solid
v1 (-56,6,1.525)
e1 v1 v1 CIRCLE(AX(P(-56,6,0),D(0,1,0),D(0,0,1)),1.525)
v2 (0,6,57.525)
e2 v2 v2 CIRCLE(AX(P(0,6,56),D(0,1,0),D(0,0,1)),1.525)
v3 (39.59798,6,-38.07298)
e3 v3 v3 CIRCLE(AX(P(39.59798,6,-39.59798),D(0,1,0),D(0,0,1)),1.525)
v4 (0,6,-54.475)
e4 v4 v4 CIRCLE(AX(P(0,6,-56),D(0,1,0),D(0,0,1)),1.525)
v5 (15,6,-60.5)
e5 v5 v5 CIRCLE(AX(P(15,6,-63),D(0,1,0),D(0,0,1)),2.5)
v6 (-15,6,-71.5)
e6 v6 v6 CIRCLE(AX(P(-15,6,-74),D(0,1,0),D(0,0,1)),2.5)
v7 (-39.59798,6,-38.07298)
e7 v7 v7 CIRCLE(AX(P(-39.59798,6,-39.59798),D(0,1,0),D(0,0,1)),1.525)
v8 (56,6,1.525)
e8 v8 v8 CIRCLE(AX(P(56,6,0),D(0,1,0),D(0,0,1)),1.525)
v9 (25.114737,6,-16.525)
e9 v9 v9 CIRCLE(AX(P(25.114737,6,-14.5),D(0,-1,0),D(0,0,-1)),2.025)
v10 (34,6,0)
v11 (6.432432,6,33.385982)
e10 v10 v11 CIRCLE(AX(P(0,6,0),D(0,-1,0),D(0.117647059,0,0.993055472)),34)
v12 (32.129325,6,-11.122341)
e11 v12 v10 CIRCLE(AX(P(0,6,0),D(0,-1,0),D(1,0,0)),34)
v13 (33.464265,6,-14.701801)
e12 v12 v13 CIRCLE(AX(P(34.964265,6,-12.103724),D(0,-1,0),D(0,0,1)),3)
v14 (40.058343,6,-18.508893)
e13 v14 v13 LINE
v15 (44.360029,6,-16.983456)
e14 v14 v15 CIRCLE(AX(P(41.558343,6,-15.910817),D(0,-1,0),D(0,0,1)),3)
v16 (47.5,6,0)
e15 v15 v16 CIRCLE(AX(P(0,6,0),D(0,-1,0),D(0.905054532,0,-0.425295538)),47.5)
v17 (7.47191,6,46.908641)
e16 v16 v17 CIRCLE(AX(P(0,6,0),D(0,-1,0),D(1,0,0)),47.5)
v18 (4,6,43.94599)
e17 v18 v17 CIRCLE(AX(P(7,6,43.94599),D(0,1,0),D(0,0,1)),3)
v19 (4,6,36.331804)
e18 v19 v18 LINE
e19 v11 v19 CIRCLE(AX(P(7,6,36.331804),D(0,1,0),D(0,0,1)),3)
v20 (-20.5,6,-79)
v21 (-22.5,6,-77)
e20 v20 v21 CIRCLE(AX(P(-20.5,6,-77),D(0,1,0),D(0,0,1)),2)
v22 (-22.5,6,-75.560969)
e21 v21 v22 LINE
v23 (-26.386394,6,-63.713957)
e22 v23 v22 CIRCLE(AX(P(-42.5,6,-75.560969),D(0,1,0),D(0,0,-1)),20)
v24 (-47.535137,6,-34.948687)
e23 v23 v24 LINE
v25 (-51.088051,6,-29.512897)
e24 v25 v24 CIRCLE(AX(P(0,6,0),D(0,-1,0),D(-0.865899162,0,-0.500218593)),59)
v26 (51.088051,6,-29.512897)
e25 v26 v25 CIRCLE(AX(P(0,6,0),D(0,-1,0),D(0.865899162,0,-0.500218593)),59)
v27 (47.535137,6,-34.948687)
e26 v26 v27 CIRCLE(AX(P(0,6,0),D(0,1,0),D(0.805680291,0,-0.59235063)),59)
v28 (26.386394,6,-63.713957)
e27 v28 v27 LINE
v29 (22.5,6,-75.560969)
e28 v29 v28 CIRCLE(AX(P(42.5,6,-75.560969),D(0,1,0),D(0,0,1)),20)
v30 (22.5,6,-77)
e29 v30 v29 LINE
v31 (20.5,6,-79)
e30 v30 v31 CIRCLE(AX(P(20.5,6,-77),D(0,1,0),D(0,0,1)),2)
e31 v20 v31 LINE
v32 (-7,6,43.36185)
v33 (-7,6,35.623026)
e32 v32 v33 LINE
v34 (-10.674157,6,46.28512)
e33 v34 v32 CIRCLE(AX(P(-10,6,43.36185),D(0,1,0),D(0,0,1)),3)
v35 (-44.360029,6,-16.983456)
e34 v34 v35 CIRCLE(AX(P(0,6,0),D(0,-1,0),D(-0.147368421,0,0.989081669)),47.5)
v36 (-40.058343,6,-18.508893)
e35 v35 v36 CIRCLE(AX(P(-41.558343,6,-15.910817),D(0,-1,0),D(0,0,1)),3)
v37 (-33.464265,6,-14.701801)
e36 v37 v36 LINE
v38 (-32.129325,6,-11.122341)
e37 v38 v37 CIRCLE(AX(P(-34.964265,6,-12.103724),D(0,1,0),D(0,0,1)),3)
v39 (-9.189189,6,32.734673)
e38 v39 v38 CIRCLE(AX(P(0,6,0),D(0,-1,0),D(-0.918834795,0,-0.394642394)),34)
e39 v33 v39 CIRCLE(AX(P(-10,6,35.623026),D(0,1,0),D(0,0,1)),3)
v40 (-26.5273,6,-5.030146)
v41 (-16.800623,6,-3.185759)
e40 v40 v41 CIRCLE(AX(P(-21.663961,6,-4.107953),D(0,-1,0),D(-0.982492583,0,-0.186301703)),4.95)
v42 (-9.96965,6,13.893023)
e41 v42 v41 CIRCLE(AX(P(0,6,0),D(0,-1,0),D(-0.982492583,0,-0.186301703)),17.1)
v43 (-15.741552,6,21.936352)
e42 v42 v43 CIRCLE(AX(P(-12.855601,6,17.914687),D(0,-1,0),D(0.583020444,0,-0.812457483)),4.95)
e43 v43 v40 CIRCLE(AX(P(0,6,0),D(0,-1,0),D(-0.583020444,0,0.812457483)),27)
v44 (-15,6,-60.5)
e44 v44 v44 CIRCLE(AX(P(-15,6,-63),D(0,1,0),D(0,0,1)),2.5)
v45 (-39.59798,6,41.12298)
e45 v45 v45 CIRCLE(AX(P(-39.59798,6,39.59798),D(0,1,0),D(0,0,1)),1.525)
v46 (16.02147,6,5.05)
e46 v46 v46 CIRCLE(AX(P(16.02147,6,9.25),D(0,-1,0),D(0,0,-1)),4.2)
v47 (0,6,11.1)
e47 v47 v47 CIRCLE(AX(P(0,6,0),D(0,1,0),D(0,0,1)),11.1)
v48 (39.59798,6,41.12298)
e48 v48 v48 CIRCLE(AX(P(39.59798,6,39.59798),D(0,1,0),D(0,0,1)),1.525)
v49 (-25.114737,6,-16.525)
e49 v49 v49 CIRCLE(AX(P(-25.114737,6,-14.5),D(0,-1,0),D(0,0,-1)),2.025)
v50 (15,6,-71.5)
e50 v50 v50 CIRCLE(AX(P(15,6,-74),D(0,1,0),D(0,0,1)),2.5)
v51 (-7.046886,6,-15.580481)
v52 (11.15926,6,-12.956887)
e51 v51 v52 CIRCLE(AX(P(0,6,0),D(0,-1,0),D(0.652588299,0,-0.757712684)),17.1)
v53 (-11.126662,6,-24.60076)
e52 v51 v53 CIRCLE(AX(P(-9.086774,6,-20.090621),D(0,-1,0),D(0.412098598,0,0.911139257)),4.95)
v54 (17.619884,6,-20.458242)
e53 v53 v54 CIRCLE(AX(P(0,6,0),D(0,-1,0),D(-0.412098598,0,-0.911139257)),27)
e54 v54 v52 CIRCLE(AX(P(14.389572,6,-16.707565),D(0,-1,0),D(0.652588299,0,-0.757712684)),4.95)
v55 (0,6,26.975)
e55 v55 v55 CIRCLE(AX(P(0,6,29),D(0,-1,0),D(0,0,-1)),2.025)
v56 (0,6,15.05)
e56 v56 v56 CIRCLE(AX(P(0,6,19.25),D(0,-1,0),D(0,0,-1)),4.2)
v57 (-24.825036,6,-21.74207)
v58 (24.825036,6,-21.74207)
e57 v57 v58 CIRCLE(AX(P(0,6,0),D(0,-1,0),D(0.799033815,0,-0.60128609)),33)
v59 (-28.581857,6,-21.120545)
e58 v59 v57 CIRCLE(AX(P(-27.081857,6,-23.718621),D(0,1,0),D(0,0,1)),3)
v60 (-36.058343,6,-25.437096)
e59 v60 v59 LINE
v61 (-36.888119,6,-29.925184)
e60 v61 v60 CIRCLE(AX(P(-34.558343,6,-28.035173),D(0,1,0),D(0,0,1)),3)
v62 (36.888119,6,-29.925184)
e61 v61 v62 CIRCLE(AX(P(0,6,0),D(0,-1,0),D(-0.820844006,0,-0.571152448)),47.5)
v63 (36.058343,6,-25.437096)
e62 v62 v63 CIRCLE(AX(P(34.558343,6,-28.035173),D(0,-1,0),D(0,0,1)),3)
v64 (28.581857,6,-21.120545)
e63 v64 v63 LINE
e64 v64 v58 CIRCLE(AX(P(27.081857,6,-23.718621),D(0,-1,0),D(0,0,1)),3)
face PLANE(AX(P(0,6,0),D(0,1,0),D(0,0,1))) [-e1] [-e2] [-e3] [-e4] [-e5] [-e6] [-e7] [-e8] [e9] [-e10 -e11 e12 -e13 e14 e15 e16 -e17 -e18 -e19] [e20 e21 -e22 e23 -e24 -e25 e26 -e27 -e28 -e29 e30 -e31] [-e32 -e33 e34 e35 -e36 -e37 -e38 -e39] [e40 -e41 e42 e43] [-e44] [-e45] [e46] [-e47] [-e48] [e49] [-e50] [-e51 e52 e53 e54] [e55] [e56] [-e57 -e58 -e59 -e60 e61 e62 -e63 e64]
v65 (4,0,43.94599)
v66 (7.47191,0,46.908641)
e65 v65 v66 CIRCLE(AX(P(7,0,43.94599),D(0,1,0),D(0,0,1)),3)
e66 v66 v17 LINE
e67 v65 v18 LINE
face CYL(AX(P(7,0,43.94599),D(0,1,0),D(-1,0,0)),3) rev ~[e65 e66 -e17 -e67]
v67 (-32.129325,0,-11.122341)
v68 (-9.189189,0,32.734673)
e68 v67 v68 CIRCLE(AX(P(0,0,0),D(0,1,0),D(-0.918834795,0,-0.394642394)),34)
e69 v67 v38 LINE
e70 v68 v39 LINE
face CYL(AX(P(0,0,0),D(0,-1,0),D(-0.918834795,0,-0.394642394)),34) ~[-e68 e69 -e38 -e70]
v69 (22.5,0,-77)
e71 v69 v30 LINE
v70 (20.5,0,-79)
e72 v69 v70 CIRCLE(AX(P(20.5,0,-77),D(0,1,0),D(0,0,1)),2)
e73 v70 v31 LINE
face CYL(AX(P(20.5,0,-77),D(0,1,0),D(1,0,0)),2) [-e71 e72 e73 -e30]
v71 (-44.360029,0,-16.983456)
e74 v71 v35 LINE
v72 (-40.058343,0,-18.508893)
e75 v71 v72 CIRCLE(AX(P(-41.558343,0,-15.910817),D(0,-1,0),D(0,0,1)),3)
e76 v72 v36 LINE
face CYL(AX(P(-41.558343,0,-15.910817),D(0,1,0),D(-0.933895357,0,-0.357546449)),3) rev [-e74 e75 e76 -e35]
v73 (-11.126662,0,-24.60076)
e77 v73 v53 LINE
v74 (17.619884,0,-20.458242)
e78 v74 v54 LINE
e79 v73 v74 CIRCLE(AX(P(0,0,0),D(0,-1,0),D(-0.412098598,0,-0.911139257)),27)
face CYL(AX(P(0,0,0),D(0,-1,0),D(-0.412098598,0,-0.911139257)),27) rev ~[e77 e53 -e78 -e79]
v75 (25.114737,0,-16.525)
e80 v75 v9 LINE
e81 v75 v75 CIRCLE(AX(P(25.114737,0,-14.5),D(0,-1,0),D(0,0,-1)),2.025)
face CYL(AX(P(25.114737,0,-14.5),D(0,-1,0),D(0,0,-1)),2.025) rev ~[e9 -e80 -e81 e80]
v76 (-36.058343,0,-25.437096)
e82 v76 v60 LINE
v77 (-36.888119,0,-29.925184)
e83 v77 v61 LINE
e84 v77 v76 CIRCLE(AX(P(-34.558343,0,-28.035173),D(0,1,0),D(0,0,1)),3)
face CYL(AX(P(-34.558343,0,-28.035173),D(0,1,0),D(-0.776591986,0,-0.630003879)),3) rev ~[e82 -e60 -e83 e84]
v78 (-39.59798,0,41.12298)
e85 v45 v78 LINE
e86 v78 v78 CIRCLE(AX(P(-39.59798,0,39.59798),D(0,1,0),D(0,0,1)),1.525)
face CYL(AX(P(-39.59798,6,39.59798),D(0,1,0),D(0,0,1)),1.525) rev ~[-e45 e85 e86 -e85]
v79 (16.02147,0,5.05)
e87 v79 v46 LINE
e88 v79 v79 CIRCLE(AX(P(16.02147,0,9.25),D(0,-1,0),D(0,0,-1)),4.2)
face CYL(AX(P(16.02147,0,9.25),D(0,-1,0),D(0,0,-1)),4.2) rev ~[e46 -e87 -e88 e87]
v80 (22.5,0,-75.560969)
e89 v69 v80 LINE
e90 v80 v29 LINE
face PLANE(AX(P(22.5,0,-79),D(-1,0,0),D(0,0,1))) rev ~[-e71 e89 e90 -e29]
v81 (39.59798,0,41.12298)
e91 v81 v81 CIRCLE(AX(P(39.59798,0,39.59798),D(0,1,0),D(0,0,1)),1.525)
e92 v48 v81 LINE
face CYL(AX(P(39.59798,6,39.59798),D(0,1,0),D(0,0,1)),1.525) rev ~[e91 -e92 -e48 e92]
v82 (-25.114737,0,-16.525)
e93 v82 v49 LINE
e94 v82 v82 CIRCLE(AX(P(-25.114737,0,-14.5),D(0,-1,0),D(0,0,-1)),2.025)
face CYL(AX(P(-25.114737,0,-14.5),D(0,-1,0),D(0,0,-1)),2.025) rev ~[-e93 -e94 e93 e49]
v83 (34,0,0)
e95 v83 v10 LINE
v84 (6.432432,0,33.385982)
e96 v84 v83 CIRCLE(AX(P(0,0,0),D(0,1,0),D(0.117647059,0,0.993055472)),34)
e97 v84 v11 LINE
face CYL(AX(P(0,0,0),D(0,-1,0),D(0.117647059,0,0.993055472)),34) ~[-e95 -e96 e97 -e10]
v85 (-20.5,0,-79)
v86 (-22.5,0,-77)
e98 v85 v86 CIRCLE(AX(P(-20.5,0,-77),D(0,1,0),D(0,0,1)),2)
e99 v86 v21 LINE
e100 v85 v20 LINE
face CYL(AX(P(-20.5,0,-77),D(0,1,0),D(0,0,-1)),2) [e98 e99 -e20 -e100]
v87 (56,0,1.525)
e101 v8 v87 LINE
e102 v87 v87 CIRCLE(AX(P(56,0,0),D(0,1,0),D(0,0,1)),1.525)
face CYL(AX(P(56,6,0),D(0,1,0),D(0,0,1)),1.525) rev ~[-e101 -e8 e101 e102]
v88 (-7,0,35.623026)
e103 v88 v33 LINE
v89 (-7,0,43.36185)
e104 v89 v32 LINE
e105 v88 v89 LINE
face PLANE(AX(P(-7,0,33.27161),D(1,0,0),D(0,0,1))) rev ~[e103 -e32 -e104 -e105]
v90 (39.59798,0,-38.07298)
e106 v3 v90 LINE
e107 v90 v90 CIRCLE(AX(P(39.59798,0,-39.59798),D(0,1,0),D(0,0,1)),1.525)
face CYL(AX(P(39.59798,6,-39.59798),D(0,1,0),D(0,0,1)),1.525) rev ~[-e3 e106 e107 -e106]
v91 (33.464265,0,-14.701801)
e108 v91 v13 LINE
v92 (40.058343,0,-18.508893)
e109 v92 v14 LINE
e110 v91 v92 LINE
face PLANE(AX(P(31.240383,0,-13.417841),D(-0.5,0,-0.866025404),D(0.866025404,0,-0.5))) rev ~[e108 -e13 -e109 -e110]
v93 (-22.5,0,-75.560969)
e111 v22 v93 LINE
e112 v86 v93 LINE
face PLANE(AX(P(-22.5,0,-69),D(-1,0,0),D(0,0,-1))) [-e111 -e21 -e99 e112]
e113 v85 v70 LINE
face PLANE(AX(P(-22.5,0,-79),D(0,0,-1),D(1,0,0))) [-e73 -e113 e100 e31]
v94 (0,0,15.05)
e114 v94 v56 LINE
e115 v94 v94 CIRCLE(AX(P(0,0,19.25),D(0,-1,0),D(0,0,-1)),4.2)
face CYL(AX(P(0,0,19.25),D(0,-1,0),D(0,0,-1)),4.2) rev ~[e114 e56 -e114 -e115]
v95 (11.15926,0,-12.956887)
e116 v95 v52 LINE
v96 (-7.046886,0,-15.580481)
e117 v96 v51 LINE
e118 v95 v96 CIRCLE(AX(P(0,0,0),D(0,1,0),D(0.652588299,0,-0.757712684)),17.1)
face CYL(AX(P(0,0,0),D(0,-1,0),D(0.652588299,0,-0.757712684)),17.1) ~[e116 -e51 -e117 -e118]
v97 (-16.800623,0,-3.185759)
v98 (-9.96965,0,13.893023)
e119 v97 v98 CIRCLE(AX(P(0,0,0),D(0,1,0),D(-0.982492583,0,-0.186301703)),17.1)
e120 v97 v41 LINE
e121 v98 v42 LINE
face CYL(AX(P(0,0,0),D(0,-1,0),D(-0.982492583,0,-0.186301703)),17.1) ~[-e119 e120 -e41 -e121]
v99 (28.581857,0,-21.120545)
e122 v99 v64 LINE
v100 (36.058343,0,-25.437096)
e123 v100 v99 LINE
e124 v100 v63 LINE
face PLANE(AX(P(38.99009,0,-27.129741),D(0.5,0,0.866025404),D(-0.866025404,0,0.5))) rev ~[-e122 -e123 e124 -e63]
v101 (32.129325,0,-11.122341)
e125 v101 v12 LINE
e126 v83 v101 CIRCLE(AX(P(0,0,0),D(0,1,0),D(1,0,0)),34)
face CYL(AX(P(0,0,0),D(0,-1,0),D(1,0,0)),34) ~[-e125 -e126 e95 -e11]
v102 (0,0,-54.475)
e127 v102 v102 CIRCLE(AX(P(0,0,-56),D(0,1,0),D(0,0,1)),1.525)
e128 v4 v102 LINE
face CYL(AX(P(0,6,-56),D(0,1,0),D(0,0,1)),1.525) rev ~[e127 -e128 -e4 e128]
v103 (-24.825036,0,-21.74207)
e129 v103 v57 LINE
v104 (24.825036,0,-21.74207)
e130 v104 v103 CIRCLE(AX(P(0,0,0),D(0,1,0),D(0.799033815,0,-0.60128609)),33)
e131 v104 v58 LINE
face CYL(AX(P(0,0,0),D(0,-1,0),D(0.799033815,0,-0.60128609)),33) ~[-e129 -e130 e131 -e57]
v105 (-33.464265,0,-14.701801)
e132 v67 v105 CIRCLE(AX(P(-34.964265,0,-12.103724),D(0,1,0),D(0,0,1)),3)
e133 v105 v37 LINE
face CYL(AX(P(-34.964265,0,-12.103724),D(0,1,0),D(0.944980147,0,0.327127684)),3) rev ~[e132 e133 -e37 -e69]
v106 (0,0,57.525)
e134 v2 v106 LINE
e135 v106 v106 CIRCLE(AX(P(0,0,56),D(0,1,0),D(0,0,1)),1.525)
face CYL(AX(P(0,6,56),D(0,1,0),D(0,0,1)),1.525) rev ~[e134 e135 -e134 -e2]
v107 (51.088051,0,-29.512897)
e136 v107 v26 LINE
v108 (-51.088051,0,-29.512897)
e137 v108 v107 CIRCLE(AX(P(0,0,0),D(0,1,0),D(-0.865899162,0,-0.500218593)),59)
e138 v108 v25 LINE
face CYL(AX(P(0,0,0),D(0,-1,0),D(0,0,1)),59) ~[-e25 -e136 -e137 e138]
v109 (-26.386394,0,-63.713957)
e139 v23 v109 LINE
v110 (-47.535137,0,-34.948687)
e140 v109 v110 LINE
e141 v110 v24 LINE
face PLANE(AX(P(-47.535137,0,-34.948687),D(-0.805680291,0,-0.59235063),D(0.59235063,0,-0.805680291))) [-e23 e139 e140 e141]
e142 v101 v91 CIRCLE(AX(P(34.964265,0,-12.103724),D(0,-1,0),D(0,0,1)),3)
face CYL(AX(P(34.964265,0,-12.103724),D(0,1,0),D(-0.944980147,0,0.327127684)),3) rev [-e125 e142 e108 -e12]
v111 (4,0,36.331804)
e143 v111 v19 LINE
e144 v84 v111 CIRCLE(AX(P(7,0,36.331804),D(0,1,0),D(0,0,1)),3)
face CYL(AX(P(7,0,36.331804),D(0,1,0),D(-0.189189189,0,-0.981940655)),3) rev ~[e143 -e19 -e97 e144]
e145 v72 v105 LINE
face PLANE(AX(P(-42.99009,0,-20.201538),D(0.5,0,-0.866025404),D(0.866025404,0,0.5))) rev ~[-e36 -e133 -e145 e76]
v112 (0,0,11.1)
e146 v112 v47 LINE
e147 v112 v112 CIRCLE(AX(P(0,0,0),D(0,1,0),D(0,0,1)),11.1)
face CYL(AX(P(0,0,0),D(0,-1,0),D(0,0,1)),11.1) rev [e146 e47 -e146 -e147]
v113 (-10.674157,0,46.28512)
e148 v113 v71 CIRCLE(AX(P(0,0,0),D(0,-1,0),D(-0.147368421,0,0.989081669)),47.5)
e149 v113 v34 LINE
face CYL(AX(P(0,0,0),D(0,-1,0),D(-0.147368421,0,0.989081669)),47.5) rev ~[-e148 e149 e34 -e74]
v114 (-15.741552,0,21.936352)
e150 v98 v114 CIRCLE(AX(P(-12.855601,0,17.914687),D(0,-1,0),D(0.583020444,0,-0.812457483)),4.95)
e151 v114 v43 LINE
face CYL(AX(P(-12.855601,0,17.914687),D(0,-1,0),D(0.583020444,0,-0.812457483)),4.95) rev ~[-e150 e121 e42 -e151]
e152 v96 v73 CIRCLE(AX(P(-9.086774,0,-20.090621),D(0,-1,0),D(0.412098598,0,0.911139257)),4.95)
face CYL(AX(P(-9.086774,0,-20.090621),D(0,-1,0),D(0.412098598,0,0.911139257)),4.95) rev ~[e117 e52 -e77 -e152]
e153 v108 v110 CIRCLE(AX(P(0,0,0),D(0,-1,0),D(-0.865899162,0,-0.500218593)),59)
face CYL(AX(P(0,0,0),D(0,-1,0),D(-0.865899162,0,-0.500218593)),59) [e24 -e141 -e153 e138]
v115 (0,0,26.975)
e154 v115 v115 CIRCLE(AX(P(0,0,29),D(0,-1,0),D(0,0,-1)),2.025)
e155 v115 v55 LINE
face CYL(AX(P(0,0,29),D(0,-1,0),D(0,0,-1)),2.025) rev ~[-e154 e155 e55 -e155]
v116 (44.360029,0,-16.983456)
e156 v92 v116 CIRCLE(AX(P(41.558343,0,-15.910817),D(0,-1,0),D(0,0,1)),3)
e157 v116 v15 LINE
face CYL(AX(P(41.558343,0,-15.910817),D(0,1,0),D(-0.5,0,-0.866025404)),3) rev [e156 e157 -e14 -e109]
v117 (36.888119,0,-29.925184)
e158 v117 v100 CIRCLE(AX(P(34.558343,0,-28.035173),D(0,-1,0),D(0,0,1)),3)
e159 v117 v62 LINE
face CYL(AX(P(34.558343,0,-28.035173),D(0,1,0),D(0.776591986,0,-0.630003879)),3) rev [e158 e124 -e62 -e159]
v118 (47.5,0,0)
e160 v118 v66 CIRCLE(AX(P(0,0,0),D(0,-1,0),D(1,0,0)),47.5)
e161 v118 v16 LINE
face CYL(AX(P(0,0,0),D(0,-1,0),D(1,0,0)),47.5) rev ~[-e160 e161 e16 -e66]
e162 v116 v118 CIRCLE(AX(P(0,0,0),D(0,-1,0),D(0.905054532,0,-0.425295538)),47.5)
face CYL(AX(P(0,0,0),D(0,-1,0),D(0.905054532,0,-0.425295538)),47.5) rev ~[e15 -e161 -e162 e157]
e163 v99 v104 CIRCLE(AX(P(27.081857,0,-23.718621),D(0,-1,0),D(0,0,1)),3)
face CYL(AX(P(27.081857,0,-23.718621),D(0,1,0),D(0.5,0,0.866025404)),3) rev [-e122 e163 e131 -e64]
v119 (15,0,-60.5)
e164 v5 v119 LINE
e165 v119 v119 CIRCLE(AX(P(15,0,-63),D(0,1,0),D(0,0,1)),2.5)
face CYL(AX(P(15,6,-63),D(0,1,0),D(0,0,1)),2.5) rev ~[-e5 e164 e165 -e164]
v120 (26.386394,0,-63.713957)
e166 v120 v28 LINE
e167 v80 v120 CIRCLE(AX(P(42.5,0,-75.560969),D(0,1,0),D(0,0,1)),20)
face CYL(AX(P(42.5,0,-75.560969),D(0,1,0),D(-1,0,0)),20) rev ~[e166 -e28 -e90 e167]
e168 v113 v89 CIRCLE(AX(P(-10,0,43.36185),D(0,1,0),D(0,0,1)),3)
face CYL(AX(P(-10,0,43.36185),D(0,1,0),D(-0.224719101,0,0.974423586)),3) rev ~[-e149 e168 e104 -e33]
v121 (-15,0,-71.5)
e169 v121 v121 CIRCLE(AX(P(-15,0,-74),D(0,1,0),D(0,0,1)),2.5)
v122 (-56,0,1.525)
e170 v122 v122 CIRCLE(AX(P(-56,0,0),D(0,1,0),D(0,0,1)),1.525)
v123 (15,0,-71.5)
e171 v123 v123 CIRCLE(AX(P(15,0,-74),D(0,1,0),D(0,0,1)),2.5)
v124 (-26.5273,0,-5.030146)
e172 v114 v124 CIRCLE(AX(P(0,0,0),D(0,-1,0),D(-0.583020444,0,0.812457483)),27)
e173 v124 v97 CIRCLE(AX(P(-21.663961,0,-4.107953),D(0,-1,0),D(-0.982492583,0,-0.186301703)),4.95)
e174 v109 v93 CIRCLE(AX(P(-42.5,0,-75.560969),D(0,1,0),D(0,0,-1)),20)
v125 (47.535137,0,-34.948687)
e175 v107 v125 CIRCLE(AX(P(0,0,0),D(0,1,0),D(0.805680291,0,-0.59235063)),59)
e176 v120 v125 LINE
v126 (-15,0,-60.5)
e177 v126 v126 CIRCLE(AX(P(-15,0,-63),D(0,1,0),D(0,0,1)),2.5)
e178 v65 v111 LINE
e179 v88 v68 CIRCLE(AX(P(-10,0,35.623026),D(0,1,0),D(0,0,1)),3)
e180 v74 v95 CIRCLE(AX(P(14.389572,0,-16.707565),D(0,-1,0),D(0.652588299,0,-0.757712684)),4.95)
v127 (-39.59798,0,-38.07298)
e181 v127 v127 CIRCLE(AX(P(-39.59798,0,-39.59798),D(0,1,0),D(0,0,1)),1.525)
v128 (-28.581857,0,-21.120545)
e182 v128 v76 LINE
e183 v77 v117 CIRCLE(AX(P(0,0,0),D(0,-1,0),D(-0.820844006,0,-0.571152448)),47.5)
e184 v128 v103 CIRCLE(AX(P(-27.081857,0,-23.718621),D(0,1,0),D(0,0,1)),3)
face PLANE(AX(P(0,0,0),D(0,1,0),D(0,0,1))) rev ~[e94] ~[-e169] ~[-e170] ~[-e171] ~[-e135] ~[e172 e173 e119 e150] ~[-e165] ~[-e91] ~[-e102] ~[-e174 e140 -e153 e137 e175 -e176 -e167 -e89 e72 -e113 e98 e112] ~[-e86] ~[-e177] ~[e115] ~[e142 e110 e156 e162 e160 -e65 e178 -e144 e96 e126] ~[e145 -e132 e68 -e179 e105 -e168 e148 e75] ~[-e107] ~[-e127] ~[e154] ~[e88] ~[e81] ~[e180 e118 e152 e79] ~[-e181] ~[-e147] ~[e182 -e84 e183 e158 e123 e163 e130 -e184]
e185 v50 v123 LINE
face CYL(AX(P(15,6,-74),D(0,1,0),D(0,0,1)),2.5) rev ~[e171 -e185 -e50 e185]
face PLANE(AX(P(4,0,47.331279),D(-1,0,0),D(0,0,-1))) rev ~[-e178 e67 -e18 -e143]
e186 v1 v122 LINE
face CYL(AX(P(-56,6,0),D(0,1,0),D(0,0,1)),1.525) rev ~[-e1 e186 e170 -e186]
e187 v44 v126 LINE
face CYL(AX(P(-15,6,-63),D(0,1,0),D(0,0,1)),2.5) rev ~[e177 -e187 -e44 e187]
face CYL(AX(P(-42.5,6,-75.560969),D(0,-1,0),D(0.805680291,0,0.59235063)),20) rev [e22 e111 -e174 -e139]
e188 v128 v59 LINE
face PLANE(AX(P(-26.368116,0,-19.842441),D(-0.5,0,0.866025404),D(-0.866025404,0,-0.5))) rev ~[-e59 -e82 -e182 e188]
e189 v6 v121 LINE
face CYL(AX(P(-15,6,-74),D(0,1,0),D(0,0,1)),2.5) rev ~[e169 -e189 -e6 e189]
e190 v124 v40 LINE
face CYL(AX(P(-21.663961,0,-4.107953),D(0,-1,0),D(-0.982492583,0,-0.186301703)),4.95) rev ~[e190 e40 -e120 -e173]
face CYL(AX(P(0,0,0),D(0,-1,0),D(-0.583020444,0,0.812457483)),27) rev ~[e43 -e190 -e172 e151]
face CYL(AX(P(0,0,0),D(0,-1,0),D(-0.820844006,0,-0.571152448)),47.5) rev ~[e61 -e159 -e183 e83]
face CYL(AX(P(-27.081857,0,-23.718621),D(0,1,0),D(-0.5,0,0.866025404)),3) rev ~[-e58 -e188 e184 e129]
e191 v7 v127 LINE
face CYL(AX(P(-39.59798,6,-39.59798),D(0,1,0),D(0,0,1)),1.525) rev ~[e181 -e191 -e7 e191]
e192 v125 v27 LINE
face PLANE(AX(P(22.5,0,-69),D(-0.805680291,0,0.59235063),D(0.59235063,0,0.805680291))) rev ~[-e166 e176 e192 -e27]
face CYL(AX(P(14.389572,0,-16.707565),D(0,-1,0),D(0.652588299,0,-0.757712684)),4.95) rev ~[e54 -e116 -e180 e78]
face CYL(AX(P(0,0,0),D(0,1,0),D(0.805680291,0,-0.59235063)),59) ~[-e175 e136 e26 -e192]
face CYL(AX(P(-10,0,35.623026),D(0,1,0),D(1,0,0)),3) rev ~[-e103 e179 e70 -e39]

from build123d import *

# Parameters (mm, degrees)
SKETCH_1_R               = 59
SKETCH_1_R_2             = 11.1
EXTRUDE_1_DEPTH          = 6
SKETCH_2_R               = 1.525
CUT_EXTRUDE_1_DEPTH      = 6
EXTRUDE_START            = -6
EXTRUDE_2_DEPTH          = 6
SKETCH_4_R               = 4.2
SKETCH_4_R_2             = 2.025
CUT_EXTRUDE_2_DEPTH      = 6
SKETCH_5_R               = 4.2
CUT_EXTRUDE_3_DEPTH      = 6
CUT_EXTRUDE_4_DEPTH      = 10
CUT_EXTRUDE_5_DEPTH      = 10
CUT_EXTRUDE_7_DEPTH      = 10
FILLET_1_R               = 3
SKETCH_11_R              = 2.5
CUT_EXTRUDE_8_DEPTH      = 10
CUT_EXTRUDE_9_DEPTH      = 10
PATTERN_CIRCULAR_1_COUNT = 3
CUT_EXTRUDE_10_DEPTH     = 20
FILLET_3_R               = 20
FILLET_4_R               = 2


with BuildPart() as part:
    # 草图1 → 凸台-拉伸1 (new body)
    with BuildSketch(Plane(origin=(0, 0, 0), x_dir=(1, 0, 0), z_dir=(0, 1, 0))):
        with Locations(Location((0, 0, 0), (0, 0, 270))):
            Circle(SKETCH_1_R)
        with Locations(Location((0, 0, 0), (0, 0, 270))):
            Circle(SKETCH_1_R_2, mode=Mode.SUBTRACT)
    extrude(amount=EXTRUDE_1_DEPTH)

    # 草图2 → 切除-拉伸1 (cut)
    with BuildSketch(Plane(origin=(0, 6, 0), x_dir=(1, 0, 0), z_dir=(0, 1, 0))):
        with Locations(Location((0, 56, 0), (0, 0, 270))):
            Circle(SKETCH_2_R)
        with Locations(Location((39.597979746, 39.597979746, 0), (0, 0, 270))):
            Circle(SKETCH_2_R)
        with Locations(Location((56, 0, 0), (0, 0, 270))):
            Circle(SKETCH_2_R)
        with Locations(Location((39.597979746, -39.597979746, 0), (0, 0, 270))):
            Circle(SKETCH_2_R)
        with Locations(Location((0, -56, 0), (0, 0, 270))):
            Circle(SKETCH_2_R)
        with Locations(Location((-39.597979746, -39.597979746, 0), (0, 0, 270))):
            Circle(SKETCH_2_R)
        with Locations(Location((-56, 0, 0), (0, 0, 270))):
            Circle(SKETCH_2_R)
        with Locations(Location((-39.597979746, 39.597979746, 0), (0, 0, 270))):
            Circle(SKETCH_2_R)
    extrude(amount=-CUT_EXTRUDE_1_DEPTH, mode=Mode.SUBTRACT)

    # 草图3 → 凸台-拉伸2 (add)
    with BuildSketch(Plane(origin=(0, 6, 0), x_dir=(1, 0, 0), z_dir=(0, 1, 0)).offset(EXTRUDE_START)):
        with BuildLine():
            Line((-51.088050573, 29.512896989), (-22.5, 79))
            Line((-22.5, 79), (22.5, 79))
            Line((22.5, 79), (51.088050573, 29.512896989))
            ThreePointArc((51.088050573, 29.512896989), (0, 59), (-51.088050573, 29.512896989))
        make_face()
    extrude(amount=EXTRUDE_2_DEPTH)

    # 草图4 → 切除-拉伸2 (cut)
    with BuildSketch(Plane.XZ):
        with Locations(Location((0, 19.25, 0), (0, 0, 270))):
            Circle(SKETCH_4_R)
        with Locations(Location((0, 29, 0), (0, 0, 270))):
            Circle(SKETCH_4_R_2)
        with Locations(Location((25.11473671, -14.5, 0), (0, 0, 270))):
            Circle(SKETCH_4_R_2)
        with Locations(Location((-25.11473671, -14.5, 0), (0, 0, 270))):
            Circle(SKETCH_4_R_2)
    extrude(amount=-CUT_EXTRUDE_2_DEPTH, mode=Mode.SUBTRACT)

    # 草图5 → 切除-拉伸3 (cut)
    with BuildSketch(Plane.XZ):
        with Locations(Location((16.02146997, 9.25, 0), (0, 0, 270))):
            Circle(SKETCH_5_R)
    extrude(amount=-CUT_EXTRUDE_3_DEPTH, mode=Mode.SUBTRACT)

    # 草图8 → 切除-拉伸4 (cut)
    with BuildSketch(Plane.XZ):
        with BuildLine():
            Line((38.990090266, -27.129741264), (26.368115905, -19.842440969))
            ThreePointArc((26.368115905, -19.842440969), (0, -33), (-26.368115905, -19.842440969))
            Line((-26.368115905, -19.842440969), (-38.990090266, -27.129741264))
            ThreePointArc((-38.990090266, -27.129741264), (0, -47.5), (38.990090266, -27.129741264))
        make_face()
    extrude(amount=-CUT_EXTRUDE_4_DEPTH, mode=Mode.SUBTRACT)

    # 草图9 → 切除-拉伸5 (cut)
    with BuildSketch(Plane.XZ):
        with BuildLine():
            ThreePointArc((34, 0), (33.302950494, -6.849342188), (31.240383034, -13.417841401))
            Line((31.240383034, -13.417841401), (42.990090266, -20.201538034))
            ThreePointArc((42.990090266, -20.201538034), (46.35881409, -10.349413326), (47.5, 0))
            ThreePointArc((47.5, 0), (34.973204028, 32.142261899), (4, 47.331279298))
            Line((4, 47.331279298), (4, 33.763886032))
            ThreePointArc((4, 33.763886032), (25.416530054, 22.583179581), (34, 0))
        make_face()
    extrude(amount=-CUT_EXTRUDE_5_DEPTH, mode=Mode.SUBTRACT)

    # 草图10 → 切除-拉伸7 (cut)
    with BuildSketch(Plane.XZ):
        with BuildLine():
            Line((-42.990090266, -20.201538034), (-31.240383034, -13.417841401))
            ThreePointArc((-31.240383034, -13.417841401), (-30.175452448, 15.666590872), (-7, 33.271609519))
            Line((-7, 33.271609519), (-7, 46.98137929))
            ThreePointArc((-7, 46.98137929), (-41.870495295, 22.430149883), (-42.990090266, -20.201538034))
        make_face()
    extrude(amount=-CUT_EXTRUDE_7_DEPTH, mode=Mode.SUBTRACT)

    # 圆角1
    fillet_1_edges = [part.edges().sort_by_distance(p)[0] for p in [
        (42.990090266, 3, -20.201538034),
        (31.240383034, 3, -13.417841401),
        (4, 3, 33.763886032),
        (4, 3, 47.331279298),
        (-7, 3, 46.98137929),
        (-7, 3, 33.271609519),
        (-31.240383034, 3, -13.417841401),
        (-42.990090266, 3, -20.201538034),
        (-26.368115905, 3, -19.842440969),
        (26.368115905, 3, -19.842440969),
        (38.990090266, 3, -27.129741264),
        (-38.990090266, 3, -27.129741264),
    ]]
    fillet(fillet_1_edges, radius=FILLET_1_R)

    # 草图11 → 切除-拉伸8 (cut)
    with BuildSketch(Plane(origin=(0, 6, 0), x_dir=(1, 0, 0), z_dir=(0, 1, 0))):
        with Locations(Location((15, 63, 0), (0, 0, 270))):
            Circle(SKETCH_11_R)
        with Locations(Location((15, 74, 0), (0, 0, 270))):
            Circle(SKETCH_11_R)
        with Locations(Location((-15, 63, 0), (0, 0, 270))):
            Circle(SKETCH_11_R)
        with Locations(Location((-15, 74, 0), (0, 0, 270))):
            Circle(SKETCH_11_R)
    extrude(amount=-CUT_EXTRUDE_8_DEPTH, mode=Mode.SUBTRACT)

    # 草图12 → 切除-拉伸9 (cut)
    with BuildSketch(Plane.XZ):
        with BuildLine():
            ThreePointArc((-11.126662137, -24.600759941), (3.851051224, -26.723948145), (17.619884076, -20.458242475))
            ThreePointArc((17.619884076, -20.458242475), (18.140249782, -13.477252607), (11.159259915, -12.956886901))
            ThreePointArc((11.159259915, -12.956886901), (2.438999108, -16.925167159), (-7.04688602, -15.580481296))
            ThreePointArc((-7.04688602, -15.580481296), (-13.596913401, -18.05073256), (-11.126662137, -24.600759941))
        make_face()
    cut_extrude_9 = extrude(amount=-CUT_EXTRUDE_9_DEPTH, mode=Mode.SUBTRACT)

    # 阵列(圆周)1: 切除-拉伸9 ×3 about axis, 1 skipped
    pattern_circular_1_axis = Axis((0, 0, 0), (0, 1, 0))
    add([cut_extrude_9.rotate(pattern_circular_1_axis, i * 360 / PATTERN_CIRCULAR_1_COUNT) for i in range(1, PATTERN_CIRCULAR_1_COUNT) if i not in (2,)], mode=Mode.SUBTRACT)

    # 草图15 → 切除-拉伸10 (cut, symmetric)
    with BuildSketch(Plane.XZ):
        with BuildLine():
            Line((22.5, -79), (22.5, -69))
            Line((22.5, -69), (47.535137175, -34.948687153))
            ThreePointArc((47.535137175, -34.948687153), (49.386437856, -32.279711212), (51.088050573, -29.512896989))
            Line((51.088050573, -29.512896989), (22.5, -79))
        make_face()
        with BuildLine():
            Line((-22.5, -79), (-51.088050573, -29.512896989))
            ThreePointArc((-51.088050573, -29.512896989), (-49.386437856, -32.279711212), (-47.535137175, -34.948687153))
            Line((-47.535137175, -34.948687153), (-22.5, -69))
            Line((-22.5, -69), (-22.5, -79))
        make_face()
    extrude(amount=CUT_EXTRUDE_10_DEPTH, both=True, mode=Mode.SUBTRACT)

    # 圆角3
    fillet_3_edges = [part.edges().sort_by_distance(p)[0] for p in [
        (-22.5, 3, -69),
        (22.5, 3, -69),
    ]]
    fillet(fillet_3_edges, radius=FILLET_3_R)

    # 圆角4
    fillet_4_edges = [part.edges().sort_by_distance(p)[0] for p in [
        (-22.5, 3, -79),
        (22.5, 3, -79),
    ]]
    fillet(fillet_4_edges, radius=FILLET_4_R)


solid = part.part
